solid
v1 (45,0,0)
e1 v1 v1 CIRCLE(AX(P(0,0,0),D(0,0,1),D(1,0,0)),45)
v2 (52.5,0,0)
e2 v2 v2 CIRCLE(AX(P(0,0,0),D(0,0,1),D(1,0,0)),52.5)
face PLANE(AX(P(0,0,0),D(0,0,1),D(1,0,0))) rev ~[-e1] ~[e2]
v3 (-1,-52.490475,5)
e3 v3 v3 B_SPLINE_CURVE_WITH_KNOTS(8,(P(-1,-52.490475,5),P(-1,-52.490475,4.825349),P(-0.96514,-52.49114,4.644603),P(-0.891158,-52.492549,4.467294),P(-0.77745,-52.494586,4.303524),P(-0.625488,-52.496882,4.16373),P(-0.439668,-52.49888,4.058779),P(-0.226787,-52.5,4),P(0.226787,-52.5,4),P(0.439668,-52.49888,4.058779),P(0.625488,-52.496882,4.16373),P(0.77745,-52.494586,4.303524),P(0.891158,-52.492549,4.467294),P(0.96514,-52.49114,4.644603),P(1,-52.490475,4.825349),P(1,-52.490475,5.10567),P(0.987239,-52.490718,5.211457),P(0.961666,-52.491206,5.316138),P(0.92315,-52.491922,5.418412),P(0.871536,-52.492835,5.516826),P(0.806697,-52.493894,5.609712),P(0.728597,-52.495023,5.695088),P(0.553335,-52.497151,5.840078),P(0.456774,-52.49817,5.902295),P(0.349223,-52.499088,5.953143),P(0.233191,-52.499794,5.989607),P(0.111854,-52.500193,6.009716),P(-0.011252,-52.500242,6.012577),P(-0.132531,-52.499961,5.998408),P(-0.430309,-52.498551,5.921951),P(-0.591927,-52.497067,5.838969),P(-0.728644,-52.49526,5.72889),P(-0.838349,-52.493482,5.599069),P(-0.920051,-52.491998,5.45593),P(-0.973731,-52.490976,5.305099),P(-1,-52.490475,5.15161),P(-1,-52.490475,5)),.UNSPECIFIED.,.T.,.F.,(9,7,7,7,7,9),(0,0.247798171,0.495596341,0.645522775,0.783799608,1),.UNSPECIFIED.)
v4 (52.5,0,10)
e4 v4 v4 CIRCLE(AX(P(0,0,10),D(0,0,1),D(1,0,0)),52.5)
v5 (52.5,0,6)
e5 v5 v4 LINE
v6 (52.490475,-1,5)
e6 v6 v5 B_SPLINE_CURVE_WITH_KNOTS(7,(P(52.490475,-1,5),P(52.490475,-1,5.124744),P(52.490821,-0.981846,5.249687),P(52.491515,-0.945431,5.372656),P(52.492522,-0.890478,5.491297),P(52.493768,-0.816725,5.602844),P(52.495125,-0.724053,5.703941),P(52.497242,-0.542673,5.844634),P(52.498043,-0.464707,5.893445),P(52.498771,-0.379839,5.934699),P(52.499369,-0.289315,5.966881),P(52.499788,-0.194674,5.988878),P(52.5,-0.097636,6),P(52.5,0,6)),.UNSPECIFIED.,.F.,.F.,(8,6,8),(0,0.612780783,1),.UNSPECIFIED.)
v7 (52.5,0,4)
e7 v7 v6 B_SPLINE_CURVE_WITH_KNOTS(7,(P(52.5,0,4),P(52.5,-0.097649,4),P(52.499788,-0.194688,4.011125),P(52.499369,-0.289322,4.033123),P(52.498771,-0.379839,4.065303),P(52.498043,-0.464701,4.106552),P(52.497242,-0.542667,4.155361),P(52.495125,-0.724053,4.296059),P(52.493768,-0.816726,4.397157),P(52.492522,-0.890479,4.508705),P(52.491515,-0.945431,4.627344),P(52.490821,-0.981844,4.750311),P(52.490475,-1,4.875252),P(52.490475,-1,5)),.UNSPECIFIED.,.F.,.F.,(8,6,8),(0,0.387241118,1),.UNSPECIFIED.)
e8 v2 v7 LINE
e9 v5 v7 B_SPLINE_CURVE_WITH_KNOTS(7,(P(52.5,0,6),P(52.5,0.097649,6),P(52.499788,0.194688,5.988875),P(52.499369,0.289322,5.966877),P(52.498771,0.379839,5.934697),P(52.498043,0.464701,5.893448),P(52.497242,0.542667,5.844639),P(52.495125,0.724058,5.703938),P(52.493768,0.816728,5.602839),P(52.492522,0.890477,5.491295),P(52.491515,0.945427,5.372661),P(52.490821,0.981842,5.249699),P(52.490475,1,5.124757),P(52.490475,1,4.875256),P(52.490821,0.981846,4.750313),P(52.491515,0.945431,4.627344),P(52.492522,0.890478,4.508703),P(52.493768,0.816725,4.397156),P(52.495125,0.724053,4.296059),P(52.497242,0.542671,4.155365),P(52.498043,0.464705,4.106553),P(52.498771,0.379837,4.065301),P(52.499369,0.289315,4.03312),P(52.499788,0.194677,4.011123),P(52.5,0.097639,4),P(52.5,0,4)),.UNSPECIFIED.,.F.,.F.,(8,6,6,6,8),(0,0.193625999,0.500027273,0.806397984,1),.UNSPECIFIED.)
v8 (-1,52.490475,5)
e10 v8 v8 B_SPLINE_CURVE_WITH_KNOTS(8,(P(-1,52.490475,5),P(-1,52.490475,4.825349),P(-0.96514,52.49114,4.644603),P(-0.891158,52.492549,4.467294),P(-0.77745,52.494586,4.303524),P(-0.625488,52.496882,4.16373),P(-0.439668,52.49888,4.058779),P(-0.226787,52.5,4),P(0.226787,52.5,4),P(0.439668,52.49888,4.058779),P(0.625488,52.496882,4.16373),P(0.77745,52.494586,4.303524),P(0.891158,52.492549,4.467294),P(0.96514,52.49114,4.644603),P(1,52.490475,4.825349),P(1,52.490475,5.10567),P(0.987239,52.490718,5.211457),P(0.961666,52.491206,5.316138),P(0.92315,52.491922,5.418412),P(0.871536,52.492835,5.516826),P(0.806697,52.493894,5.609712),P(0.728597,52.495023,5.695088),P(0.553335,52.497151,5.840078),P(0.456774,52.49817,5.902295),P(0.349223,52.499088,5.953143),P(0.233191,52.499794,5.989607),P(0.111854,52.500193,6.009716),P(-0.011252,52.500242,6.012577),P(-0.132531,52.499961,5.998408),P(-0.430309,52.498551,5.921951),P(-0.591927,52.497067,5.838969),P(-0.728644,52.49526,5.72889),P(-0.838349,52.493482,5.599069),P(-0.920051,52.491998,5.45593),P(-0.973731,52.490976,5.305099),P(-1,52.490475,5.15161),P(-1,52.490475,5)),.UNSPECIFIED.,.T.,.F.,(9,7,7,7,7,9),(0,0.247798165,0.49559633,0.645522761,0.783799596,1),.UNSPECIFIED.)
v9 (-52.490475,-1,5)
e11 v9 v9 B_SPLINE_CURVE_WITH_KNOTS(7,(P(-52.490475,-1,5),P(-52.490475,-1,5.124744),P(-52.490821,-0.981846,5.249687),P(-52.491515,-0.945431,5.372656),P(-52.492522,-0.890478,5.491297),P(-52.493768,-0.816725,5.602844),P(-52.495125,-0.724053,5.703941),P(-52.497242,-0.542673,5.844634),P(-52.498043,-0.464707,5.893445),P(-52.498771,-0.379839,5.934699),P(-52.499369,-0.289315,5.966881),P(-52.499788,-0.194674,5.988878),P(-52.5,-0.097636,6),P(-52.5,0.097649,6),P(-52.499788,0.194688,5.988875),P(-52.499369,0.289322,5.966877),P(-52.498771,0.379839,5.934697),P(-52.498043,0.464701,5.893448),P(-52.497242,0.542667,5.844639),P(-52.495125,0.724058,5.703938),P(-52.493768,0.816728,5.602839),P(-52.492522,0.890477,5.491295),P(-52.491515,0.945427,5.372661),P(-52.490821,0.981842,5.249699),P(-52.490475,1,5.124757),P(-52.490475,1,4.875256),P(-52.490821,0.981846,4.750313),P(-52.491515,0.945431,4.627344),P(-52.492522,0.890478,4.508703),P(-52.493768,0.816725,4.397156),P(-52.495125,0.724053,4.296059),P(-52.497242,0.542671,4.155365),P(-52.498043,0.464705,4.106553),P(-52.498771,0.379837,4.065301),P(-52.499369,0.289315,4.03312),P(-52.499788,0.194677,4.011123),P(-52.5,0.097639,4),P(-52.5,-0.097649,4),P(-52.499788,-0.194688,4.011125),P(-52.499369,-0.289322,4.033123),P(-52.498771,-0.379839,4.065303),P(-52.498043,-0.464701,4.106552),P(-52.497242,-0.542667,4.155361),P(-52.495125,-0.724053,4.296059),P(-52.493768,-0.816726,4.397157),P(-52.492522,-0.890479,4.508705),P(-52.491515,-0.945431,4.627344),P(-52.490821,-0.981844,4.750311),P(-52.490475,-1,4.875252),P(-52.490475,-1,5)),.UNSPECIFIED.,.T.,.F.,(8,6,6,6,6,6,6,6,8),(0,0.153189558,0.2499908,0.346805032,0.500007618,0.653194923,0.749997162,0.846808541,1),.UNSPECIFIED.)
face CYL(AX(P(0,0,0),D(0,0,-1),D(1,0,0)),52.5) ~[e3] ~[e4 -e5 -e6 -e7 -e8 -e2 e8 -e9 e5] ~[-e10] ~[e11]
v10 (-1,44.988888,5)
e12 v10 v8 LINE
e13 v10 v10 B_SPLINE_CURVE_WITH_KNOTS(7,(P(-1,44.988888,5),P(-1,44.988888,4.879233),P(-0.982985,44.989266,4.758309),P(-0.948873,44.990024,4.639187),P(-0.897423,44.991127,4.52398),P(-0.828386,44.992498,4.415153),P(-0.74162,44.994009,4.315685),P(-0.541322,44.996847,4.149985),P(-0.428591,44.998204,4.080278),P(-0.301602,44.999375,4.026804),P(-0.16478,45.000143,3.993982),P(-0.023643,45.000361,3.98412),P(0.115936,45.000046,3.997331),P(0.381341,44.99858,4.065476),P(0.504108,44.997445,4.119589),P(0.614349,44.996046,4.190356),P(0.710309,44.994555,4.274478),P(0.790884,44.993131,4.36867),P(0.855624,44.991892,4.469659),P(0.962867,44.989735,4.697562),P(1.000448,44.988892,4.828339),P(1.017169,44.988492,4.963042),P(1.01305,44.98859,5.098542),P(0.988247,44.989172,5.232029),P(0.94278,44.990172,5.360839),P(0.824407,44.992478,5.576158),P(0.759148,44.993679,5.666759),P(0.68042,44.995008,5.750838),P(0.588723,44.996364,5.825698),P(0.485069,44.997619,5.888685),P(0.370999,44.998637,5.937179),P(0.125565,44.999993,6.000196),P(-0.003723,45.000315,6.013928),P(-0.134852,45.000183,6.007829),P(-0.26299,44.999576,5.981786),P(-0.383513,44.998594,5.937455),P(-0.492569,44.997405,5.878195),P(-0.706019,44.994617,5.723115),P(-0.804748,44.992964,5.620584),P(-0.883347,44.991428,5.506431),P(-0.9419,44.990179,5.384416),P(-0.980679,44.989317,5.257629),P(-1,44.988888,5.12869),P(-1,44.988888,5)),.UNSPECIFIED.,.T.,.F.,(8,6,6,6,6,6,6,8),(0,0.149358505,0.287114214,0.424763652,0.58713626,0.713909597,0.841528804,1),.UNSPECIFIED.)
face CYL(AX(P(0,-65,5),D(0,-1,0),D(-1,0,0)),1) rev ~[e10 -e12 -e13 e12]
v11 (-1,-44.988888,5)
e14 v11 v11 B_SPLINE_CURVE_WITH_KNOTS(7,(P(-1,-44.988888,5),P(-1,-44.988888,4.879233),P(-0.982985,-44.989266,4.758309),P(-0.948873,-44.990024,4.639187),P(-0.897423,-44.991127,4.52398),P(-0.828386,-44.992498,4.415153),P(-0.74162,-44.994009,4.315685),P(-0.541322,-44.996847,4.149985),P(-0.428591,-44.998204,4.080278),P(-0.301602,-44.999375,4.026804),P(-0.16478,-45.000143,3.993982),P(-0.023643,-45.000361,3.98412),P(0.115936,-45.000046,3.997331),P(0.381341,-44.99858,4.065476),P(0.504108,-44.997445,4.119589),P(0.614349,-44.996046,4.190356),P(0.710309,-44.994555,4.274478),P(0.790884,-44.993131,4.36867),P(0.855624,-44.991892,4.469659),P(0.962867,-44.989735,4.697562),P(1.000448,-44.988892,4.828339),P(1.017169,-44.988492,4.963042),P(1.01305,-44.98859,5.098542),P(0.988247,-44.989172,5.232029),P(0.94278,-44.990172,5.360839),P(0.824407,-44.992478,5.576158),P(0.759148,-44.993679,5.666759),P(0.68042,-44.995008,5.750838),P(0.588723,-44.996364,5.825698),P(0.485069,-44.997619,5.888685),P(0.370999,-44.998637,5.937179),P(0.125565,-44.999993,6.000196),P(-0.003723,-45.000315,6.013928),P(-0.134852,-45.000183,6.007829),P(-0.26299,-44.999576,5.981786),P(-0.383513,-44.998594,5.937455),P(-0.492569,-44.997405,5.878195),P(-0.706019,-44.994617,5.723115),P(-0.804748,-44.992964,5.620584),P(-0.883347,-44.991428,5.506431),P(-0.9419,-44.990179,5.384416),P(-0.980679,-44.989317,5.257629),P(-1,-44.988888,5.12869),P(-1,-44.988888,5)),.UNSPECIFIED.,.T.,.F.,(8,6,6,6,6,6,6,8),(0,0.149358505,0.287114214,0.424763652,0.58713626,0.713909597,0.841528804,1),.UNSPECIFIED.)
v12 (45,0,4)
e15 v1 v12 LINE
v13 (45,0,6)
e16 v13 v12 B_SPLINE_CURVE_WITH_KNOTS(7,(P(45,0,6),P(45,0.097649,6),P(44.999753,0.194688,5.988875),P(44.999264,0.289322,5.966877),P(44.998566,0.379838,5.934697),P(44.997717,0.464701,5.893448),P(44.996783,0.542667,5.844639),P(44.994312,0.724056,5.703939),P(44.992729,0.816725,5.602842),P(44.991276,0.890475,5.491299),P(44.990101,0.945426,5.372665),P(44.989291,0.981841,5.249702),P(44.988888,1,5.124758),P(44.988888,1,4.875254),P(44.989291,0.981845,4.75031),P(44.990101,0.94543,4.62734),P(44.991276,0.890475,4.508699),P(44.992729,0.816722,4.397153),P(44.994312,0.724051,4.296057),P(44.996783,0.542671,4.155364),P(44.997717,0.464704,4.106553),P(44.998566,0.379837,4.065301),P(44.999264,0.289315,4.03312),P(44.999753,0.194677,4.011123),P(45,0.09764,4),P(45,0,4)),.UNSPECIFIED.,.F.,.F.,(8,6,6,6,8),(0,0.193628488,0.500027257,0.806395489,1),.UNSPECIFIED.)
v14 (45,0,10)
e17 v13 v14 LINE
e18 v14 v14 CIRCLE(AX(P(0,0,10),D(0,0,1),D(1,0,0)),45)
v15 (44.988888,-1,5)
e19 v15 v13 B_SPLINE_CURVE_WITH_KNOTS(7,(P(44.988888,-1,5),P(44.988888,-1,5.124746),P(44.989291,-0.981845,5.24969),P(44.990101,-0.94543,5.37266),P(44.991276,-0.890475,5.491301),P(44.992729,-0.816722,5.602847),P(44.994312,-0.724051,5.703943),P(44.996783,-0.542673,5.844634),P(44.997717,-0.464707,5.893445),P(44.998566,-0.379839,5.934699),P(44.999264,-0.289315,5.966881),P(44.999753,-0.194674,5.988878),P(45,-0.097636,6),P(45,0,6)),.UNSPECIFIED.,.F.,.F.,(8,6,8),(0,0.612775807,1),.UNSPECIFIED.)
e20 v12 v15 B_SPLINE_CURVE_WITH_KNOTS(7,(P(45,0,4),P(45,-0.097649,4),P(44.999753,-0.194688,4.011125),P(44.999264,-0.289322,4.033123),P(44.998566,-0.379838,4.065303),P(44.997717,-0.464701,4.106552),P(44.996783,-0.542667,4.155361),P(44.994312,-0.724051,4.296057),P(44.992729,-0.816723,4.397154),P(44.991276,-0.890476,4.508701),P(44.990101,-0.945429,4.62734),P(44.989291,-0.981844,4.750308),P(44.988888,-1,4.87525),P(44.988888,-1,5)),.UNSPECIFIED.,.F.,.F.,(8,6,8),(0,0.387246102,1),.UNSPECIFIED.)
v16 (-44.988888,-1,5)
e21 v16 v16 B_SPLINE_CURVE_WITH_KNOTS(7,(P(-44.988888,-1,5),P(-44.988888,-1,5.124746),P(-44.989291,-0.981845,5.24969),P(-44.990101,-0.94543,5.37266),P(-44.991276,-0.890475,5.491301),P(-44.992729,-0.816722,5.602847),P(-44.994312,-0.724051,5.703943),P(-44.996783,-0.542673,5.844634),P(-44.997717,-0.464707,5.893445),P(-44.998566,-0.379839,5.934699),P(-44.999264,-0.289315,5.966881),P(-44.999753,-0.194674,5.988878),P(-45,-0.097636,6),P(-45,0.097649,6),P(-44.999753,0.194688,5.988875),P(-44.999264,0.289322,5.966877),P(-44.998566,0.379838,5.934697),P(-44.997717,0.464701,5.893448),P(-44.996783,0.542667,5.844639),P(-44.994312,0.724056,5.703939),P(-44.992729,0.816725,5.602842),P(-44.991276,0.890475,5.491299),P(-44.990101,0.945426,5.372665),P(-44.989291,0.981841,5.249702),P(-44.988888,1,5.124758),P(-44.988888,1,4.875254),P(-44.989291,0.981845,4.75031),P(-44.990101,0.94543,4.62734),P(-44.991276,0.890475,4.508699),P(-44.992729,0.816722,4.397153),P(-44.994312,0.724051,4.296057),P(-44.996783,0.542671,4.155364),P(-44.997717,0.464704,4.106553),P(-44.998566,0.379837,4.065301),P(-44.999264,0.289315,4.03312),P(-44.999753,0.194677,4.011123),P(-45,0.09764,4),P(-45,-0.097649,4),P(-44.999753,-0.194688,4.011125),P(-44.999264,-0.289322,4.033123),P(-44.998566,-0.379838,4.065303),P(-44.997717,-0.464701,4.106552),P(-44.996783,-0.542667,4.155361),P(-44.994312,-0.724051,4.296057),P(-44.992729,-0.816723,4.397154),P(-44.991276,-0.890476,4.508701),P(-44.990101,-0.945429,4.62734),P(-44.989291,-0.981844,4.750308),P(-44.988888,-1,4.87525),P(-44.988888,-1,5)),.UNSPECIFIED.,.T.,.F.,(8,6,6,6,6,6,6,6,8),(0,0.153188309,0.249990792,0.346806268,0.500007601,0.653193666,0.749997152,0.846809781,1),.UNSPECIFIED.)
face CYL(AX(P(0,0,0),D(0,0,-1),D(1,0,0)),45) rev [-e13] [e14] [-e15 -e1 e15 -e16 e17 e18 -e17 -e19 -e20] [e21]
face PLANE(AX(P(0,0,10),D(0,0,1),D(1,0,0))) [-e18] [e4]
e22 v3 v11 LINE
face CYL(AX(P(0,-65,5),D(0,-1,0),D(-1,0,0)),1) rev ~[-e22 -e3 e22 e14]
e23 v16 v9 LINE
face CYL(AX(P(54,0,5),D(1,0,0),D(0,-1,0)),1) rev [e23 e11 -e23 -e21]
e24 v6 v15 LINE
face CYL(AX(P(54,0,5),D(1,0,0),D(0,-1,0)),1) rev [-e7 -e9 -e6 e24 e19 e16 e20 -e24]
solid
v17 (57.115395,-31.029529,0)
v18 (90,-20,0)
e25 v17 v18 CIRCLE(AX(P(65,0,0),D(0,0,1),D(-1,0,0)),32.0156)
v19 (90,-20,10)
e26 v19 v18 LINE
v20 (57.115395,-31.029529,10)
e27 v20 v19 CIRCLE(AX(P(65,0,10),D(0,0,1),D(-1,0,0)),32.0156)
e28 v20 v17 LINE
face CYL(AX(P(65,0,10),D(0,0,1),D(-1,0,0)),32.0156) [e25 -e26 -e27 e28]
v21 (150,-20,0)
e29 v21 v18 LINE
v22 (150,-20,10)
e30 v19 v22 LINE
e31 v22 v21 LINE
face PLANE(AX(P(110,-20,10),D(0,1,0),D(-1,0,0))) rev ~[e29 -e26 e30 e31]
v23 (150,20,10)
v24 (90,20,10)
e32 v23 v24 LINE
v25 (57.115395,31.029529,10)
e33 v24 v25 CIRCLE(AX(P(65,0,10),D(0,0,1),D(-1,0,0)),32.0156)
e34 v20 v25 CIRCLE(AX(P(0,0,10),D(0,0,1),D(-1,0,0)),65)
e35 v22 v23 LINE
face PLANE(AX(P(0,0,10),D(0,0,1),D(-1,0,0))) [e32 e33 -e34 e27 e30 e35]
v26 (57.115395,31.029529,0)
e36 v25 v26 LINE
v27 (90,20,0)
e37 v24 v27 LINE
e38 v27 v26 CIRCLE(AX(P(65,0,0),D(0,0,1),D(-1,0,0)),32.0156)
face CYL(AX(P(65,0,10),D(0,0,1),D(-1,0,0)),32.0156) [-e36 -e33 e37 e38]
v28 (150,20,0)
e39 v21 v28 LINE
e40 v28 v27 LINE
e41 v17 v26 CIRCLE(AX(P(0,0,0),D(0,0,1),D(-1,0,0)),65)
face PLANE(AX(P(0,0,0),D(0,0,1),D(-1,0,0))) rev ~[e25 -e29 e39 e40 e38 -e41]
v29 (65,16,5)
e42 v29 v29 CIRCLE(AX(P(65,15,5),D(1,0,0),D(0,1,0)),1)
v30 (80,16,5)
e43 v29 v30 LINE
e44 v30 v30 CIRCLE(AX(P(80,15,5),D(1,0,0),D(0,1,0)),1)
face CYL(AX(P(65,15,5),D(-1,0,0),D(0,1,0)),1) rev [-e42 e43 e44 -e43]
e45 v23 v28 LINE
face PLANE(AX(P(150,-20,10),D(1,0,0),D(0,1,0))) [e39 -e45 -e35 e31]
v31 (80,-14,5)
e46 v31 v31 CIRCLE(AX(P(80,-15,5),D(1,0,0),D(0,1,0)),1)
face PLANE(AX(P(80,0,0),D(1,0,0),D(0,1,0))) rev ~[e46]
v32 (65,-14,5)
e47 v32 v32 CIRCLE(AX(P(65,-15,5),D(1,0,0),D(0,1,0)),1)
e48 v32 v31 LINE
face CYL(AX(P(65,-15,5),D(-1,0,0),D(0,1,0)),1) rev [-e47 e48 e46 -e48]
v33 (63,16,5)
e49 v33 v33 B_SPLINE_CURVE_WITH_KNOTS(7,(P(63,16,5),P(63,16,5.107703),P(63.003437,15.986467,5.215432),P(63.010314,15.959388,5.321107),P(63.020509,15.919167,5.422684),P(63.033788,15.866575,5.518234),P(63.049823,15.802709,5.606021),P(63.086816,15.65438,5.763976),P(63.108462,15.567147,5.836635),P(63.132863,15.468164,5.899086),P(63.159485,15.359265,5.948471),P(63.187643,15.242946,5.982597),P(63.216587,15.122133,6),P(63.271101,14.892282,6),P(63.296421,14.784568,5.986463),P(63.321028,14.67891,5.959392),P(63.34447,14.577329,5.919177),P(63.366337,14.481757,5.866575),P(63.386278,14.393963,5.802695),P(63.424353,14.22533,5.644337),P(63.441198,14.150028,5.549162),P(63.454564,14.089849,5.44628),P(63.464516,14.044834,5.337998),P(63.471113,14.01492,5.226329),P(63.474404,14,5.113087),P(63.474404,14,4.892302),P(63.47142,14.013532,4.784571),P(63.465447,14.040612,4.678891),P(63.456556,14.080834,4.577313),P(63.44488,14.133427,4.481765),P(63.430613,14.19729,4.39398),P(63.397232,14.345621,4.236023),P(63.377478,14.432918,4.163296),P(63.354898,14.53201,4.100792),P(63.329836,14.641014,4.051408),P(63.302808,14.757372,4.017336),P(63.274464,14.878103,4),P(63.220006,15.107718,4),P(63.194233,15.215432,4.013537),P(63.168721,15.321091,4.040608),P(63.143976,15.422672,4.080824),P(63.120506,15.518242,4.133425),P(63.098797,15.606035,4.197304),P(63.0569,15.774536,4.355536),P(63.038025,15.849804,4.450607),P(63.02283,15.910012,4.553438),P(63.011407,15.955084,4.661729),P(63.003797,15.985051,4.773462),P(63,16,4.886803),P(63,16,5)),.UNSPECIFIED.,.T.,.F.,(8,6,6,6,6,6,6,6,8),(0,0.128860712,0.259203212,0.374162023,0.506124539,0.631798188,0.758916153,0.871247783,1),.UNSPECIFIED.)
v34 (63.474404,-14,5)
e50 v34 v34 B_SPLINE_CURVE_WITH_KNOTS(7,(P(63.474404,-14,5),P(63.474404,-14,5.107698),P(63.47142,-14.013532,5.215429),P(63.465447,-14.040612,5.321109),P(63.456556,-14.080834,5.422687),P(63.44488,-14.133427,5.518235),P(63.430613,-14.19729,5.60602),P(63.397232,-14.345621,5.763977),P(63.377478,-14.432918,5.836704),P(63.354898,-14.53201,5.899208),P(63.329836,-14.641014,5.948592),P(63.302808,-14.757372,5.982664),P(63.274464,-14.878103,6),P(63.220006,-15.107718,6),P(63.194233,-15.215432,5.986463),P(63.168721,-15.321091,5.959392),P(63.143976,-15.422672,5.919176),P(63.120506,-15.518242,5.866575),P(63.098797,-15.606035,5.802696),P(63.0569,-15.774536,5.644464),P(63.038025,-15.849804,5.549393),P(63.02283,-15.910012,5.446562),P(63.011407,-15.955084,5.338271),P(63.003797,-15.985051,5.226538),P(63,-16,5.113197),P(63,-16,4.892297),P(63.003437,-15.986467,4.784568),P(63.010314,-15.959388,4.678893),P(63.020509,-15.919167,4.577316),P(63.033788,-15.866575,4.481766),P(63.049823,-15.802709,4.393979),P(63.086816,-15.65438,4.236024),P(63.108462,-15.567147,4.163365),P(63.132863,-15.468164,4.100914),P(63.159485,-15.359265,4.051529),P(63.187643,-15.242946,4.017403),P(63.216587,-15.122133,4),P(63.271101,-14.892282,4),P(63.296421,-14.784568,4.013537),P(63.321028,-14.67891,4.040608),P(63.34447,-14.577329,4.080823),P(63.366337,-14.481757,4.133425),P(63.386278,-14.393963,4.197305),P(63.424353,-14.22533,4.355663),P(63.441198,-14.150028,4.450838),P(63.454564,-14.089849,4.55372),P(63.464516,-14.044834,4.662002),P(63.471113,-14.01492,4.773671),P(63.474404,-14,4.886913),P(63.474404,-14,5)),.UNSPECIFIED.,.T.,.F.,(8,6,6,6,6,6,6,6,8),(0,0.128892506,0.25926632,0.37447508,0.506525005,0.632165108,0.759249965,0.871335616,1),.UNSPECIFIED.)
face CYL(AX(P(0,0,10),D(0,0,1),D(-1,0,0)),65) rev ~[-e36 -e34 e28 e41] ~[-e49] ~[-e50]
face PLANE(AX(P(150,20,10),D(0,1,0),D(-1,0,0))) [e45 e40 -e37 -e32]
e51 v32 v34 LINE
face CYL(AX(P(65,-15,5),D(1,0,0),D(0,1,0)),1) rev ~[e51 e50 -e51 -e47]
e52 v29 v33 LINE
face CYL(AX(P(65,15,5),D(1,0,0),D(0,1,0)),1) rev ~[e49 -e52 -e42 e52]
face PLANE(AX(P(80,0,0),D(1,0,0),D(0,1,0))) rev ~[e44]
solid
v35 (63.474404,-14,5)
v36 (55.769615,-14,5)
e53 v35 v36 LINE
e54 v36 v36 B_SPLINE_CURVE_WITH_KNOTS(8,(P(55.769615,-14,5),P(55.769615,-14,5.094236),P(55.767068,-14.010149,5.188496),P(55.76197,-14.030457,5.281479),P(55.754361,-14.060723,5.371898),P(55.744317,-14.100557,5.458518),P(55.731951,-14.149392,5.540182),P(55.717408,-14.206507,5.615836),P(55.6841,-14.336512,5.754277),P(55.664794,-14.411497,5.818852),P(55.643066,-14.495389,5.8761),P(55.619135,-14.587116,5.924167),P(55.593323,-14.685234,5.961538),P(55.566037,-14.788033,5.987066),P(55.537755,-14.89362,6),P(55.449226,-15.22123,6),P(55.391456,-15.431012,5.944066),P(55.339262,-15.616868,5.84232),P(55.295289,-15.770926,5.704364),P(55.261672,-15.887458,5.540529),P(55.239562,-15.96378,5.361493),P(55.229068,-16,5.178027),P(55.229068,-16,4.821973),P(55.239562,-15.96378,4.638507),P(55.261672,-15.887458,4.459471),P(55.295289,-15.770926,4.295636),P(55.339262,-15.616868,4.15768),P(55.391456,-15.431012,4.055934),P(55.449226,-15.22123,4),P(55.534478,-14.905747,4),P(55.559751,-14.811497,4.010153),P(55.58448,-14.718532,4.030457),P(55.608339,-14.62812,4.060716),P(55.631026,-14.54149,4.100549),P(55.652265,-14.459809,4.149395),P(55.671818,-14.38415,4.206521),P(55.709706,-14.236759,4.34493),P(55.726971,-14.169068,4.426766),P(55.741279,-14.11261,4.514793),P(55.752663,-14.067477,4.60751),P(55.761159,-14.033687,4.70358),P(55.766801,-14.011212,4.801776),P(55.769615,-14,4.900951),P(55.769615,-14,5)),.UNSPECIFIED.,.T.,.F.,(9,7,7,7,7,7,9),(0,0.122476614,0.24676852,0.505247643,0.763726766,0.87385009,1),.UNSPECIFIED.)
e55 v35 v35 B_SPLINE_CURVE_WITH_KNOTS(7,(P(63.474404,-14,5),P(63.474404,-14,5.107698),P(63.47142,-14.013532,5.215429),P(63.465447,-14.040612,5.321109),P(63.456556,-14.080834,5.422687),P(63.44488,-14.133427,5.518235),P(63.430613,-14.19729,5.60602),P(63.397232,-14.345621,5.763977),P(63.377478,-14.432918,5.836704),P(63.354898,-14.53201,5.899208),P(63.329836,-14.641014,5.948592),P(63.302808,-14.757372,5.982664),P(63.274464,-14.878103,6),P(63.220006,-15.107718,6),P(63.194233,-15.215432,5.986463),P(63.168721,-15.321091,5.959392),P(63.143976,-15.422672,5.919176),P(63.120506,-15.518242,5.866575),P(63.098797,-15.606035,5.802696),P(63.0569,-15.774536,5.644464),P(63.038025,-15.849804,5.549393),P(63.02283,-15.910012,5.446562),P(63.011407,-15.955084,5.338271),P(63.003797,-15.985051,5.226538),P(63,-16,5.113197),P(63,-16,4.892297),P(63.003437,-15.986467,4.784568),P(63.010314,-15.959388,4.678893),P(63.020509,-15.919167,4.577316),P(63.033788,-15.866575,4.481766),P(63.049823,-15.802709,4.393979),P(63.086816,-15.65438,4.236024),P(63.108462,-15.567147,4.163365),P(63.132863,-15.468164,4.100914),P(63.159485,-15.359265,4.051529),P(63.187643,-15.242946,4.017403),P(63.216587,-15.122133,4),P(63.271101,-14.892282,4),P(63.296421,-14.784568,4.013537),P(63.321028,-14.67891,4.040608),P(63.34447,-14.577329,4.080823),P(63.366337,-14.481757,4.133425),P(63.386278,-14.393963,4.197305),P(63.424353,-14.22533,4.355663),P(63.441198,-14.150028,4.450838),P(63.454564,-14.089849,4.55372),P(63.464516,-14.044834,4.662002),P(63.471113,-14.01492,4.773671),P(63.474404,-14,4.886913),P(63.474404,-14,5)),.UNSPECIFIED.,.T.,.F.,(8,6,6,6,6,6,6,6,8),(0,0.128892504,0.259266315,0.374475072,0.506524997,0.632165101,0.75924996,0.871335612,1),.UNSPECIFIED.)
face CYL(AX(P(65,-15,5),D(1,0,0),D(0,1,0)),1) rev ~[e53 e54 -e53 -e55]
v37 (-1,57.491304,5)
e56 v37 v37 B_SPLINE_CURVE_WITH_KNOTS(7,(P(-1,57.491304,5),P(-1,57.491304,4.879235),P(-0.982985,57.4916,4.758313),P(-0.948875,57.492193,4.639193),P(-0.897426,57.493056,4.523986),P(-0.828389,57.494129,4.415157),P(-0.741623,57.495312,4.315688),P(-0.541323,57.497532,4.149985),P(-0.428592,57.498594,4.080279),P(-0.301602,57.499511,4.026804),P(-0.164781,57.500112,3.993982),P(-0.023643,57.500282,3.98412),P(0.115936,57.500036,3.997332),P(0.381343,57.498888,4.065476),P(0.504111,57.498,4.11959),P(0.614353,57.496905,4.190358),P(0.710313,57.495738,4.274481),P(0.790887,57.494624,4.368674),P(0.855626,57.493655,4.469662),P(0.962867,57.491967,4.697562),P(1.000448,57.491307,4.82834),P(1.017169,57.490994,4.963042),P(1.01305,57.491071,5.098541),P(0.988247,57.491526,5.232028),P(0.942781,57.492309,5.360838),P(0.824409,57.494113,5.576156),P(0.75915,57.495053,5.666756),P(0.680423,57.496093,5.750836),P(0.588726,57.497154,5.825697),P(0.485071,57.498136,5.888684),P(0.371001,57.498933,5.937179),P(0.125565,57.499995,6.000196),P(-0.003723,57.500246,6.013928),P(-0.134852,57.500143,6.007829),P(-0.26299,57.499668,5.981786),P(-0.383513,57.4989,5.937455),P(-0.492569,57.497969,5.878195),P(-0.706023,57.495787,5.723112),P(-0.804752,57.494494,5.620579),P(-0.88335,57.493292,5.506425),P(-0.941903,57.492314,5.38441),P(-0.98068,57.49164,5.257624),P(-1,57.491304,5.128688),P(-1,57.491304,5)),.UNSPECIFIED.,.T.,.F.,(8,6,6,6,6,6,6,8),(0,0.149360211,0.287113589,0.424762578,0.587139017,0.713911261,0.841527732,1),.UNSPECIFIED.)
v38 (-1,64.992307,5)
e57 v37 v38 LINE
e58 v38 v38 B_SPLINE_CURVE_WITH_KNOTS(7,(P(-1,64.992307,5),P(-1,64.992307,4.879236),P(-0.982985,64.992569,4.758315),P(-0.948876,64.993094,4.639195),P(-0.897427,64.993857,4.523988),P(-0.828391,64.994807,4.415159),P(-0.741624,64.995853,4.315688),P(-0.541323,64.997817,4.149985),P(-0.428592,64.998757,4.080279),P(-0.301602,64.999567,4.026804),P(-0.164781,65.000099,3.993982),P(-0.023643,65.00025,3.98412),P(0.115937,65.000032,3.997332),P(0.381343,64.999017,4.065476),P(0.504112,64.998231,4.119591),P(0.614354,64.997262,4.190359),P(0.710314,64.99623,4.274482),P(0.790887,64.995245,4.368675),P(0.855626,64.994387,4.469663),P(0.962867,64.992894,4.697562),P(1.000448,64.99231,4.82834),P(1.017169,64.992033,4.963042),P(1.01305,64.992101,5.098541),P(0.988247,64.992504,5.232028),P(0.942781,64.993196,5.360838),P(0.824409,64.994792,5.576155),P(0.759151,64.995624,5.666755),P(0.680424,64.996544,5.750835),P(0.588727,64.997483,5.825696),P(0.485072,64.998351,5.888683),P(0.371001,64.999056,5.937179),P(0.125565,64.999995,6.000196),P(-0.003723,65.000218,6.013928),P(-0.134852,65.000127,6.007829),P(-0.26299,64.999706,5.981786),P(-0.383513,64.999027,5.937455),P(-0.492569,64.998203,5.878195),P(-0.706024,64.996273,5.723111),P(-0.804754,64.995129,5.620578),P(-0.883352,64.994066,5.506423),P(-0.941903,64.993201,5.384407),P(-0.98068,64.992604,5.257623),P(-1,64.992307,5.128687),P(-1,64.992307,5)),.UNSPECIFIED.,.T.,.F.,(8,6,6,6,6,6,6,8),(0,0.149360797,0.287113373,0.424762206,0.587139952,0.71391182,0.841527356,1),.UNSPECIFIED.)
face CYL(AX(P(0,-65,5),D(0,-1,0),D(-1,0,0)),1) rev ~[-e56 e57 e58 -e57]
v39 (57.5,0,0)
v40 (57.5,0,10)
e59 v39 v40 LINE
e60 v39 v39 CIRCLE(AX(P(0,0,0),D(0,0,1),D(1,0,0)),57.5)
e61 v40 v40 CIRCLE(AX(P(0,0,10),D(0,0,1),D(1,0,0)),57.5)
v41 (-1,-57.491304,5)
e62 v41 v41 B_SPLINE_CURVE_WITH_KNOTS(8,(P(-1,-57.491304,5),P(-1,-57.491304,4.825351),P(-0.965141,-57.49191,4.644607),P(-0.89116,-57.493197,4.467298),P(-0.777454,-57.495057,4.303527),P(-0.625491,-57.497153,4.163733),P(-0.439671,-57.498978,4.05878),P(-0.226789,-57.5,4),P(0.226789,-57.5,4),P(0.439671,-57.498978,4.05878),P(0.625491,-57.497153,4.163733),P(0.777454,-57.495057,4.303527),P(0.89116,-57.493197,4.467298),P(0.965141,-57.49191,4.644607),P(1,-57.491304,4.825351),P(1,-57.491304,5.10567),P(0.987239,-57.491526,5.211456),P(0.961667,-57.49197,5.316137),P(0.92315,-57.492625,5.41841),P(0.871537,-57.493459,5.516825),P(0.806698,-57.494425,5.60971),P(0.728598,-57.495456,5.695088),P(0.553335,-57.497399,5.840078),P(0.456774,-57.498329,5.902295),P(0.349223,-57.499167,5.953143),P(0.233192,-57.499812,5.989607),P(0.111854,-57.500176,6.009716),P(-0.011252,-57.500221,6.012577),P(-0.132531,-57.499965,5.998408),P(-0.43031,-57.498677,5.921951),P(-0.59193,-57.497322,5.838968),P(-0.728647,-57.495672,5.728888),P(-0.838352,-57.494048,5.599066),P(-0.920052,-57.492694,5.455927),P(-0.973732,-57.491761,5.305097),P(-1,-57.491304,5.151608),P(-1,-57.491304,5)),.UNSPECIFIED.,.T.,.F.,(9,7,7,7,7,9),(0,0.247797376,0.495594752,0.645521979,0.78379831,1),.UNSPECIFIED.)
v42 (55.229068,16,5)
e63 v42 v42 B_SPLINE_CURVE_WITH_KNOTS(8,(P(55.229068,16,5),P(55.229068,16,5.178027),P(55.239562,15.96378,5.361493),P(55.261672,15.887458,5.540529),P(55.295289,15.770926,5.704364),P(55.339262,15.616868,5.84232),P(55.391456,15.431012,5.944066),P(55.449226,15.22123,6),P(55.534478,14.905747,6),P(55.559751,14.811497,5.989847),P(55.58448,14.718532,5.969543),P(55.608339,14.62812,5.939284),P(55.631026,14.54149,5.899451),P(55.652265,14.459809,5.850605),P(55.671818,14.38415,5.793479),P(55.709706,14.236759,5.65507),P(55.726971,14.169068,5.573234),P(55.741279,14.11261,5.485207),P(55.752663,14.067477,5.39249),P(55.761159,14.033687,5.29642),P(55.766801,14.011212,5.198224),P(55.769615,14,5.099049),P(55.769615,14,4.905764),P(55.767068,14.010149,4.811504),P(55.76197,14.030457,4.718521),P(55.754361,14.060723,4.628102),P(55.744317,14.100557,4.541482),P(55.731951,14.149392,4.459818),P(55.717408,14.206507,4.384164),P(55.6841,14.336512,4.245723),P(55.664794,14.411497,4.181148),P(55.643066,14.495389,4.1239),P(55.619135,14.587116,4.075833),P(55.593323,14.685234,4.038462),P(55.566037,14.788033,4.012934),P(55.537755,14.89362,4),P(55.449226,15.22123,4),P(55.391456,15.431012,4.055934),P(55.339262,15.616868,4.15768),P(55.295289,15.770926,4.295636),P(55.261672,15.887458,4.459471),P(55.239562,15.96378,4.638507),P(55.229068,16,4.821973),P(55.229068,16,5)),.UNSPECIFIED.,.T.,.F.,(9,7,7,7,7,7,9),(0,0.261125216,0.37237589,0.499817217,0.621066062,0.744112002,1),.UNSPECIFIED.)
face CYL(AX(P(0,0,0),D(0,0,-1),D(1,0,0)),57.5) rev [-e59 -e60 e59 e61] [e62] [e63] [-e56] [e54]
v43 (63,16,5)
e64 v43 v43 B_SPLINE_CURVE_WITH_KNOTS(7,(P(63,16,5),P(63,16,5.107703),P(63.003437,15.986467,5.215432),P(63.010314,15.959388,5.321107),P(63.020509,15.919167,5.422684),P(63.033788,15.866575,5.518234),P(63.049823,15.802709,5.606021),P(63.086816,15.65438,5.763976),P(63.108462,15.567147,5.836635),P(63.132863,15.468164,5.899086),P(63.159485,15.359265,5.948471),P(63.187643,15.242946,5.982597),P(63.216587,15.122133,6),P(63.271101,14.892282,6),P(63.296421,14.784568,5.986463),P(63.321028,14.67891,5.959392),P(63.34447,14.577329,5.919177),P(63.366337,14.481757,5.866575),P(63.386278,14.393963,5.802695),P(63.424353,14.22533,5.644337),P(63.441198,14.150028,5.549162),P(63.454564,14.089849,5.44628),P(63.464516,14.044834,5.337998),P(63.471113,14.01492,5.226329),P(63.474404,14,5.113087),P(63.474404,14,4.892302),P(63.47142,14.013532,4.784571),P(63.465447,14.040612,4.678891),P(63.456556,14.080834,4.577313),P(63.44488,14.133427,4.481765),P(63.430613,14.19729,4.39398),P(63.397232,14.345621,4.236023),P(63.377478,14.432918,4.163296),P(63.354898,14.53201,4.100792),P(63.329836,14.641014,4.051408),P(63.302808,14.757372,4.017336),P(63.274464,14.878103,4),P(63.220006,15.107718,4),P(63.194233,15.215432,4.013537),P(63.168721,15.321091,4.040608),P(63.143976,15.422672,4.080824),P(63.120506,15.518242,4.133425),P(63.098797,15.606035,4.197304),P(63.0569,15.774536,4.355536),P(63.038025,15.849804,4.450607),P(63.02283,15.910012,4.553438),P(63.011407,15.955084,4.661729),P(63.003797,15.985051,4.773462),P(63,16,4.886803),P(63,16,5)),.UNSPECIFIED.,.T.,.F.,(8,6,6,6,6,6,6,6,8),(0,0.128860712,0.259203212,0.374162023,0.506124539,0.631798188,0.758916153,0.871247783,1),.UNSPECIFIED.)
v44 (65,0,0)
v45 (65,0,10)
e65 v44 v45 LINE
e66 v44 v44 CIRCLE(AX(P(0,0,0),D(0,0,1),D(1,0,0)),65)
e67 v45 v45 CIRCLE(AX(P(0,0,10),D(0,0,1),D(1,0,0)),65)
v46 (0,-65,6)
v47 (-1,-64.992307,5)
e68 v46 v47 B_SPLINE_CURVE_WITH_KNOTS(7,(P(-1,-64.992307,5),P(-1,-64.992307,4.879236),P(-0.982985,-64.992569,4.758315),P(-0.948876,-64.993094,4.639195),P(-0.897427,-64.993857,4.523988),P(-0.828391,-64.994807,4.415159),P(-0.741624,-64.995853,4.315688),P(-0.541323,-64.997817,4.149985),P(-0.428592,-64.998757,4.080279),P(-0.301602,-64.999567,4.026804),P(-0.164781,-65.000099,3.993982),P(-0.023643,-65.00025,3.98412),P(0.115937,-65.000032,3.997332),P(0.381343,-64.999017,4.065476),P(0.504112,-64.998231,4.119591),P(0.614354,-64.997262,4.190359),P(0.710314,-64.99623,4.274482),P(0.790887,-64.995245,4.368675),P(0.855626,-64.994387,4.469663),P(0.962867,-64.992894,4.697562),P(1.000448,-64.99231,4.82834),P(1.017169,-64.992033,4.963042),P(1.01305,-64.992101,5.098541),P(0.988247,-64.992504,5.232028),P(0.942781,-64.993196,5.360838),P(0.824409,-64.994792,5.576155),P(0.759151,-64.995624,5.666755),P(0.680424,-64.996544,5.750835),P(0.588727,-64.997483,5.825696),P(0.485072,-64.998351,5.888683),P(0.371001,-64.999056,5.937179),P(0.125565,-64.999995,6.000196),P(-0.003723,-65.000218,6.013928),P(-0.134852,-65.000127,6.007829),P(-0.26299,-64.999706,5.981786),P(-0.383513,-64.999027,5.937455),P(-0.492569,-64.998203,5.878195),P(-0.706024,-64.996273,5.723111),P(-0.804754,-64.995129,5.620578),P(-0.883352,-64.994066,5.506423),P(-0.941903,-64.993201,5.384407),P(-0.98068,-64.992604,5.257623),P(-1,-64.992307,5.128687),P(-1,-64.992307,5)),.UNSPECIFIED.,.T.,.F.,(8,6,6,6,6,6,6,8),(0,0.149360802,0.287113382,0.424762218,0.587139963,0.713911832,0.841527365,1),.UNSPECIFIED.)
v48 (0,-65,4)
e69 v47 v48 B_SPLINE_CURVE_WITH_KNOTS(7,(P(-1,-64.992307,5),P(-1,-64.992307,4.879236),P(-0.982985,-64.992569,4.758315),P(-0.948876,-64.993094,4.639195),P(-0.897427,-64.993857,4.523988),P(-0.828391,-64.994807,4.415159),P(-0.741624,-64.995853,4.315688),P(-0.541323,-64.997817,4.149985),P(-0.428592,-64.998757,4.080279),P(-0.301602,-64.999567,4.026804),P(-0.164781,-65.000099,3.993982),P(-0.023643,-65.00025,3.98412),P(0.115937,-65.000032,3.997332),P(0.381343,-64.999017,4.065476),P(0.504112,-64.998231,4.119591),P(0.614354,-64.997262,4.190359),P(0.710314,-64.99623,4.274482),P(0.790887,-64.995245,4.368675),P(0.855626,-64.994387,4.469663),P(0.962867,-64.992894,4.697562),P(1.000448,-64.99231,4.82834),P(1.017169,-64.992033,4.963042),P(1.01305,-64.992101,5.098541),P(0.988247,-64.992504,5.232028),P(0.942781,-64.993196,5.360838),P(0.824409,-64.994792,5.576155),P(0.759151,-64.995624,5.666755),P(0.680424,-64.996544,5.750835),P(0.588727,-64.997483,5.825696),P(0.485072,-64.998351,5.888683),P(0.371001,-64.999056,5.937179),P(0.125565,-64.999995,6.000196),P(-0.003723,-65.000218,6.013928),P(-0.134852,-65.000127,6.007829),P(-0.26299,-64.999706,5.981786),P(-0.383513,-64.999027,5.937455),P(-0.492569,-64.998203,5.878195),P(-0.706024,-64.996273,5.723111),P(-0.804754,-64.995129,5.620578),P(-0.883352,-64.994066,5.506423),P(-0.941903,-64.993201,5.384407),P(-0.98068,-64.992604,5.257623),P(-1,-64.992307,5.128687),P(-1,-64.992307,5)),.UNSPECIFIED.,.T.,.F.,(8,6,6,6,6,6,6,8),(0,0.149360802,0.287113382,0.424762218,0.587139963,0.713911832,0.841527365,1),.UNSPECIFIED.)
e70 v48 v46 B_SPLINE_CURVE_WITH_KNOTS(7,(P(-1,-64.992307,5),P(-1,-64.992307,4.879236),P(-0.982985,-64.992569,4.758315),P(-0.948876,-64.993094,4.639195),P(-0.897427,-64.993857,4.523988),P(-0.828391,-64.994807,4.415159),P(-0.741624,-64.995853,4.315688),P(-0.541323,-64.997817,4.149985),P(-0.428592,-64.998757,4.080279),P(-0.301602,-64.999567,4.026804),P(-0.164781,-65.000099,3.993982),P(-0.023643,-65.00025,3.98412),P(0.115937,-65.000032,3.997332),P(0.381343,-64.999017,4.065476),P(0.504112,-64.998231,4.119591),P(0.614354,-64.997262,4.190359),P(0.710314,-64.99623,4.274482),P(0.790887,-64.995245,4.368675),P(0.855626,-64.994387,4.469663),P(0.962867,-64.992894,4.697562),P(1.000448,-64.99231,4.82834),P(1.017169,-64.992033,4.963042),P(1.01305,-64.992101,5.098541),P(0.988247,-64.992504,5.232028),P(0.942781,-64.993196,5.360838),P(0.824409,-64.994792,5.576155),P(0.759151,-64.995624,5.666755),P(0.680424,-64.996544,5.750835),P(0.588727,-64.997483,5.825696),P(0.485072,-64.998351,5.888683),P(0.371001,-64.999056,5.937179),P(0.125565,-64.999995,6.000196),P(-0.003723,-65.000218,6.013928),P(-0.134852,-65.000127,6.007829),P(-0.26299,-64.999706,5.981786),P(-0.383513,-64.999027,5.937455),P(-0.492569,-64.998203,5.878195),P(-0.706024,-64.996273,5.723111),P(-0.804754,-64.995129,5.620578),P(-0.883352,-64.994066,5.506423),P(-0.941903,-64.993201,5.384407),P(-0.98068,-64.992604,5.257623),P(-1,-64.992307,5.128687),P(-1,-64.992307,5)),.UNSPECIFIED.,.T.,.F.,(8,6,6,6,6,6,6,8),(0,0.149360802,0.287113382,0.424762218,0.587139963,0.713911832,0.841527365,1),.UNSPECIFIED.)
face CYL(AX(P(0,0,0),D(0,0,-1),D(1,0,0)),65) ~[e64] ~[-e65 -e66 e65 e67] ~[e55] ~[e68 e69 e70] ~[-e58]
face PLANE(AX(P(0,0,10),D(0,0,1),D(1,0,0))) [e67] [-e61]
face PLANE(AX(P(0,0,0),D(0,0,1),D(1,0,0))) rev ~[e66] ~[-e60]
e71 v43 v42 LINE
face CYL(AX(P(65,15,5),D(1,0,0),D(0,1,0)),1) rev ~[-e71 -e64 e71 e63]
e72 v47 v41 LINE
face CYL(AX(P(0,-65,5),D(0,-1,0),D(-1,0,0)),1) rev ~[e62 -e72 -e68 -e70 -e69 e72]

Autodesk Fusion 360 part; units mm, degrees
sketch "Sketch1" plane through (0, 0, 0) normal (0, 0, 1) x (1, 0, 0)
  circle A0 centre (0, 0) radius 45
  circle A1 centre (0, 0) radius 52.5
  dimension "d1" = 90
  dimension "d2" = 105
extrude "Extrude1" add sketch "Sketch1" along normal blind 10 makes body 1
sketch "Sketch2" plane through (0, 0, 0) normal (0, 0, 1) x (1, 0, 0)
  circle A0 centre (0, 0) radius 57.5
  circle A1 centre (0, 0) radius 65
  dimension "d5" = 115
  dimension "d6" = 130
extrude "Extrude2" add sketch "Sketch2" along normal blind 10 separate body makes body 2
sketch "Sketch3" plane through (0, 0, 10) normal (0, 0, 1) x (-1, 0, 0)
  circle A0 centre (0, 0) radius 57.5
  circle A1 centre (0, 0) radius 65
  line L0 (0, 0) -> (0, 65)
  line L1 (0, 0) -> (65, 0)
  line L2 (0, 0) -> (-65, 0)
ref_plane "WorkPlane1" through (-65, 0, 10) normal (-1, 0, 0) x (0, -1, 0)
sketch "Sketch4" plane through (-65, 0, 0) normal (-1, 0, 0) x (0, -1, 0)
  circle A0 centre (0, 5) radius 1
  dimension "d9" = 2
ref_plane "WorkPlane2" through (0, -65, 10) normal (0, -1, 0) x (1, 0, 0)
sketch "Sketch5" plane through (0, -65, 0) normal (0, -1, 0) x (-1, 0, 0)
  circle A0 centre (0, -5) radius 1
  dimension "d10" = 2
extrude "Extrude3" cut sketch "Sketch5" against normal blind 195 bodies 1 2
extrude "Extrude4" cut sketch "Sketch4" along normal blind -12 and the other way blind 119 bodies 1
ref_plane "WorkPlane3" through (65, 0, 10) normal (1, 0, 0) x (0, 1, 0)
sketch "Sketch6" plane through (65, 0, 0) normal (1, 0, 0) x (0, 1, 0)
  circle A0 centre (-15, 5) radius 1
  circle A1 centre (15, 5) radius 1
  dimension "d17" = 2
  dimension "d18" = 2
extrude "Extrude5" cut sketch "Sketch6" along normal up to surface end surface at (8.8883, 56.8089, 4.914) on bodies 2 bodies 2
sketch "Sketch7" plane through (0, 0, 10) normal (0, 0, 1) x (-1, 0, 0)
  circle A0 centre (0, 0) radius 57.5
  circle A1 centre (0, 0) radius 65
  line L0 (-110, 20) -> (-150, 20)
  line L1 (-150, 20) -> (-150, -20)
  line L2 (-150, -20) -> (-90, -20)
  line L3 (-110, 20) -> (-90, 20)
  circle A2 centre (-65, 0) radius 32.0156
extrude "Extrude6" add sketch "Sketch7" against normal up to surface (10 mm away) separate body contours A1 A2 | L0 L1 L2 L3 A2 makes body 3
extrude "Extrude7" cut sketch "Sketch6" along normal blind 15 and the other way blind 5 bodies 3
